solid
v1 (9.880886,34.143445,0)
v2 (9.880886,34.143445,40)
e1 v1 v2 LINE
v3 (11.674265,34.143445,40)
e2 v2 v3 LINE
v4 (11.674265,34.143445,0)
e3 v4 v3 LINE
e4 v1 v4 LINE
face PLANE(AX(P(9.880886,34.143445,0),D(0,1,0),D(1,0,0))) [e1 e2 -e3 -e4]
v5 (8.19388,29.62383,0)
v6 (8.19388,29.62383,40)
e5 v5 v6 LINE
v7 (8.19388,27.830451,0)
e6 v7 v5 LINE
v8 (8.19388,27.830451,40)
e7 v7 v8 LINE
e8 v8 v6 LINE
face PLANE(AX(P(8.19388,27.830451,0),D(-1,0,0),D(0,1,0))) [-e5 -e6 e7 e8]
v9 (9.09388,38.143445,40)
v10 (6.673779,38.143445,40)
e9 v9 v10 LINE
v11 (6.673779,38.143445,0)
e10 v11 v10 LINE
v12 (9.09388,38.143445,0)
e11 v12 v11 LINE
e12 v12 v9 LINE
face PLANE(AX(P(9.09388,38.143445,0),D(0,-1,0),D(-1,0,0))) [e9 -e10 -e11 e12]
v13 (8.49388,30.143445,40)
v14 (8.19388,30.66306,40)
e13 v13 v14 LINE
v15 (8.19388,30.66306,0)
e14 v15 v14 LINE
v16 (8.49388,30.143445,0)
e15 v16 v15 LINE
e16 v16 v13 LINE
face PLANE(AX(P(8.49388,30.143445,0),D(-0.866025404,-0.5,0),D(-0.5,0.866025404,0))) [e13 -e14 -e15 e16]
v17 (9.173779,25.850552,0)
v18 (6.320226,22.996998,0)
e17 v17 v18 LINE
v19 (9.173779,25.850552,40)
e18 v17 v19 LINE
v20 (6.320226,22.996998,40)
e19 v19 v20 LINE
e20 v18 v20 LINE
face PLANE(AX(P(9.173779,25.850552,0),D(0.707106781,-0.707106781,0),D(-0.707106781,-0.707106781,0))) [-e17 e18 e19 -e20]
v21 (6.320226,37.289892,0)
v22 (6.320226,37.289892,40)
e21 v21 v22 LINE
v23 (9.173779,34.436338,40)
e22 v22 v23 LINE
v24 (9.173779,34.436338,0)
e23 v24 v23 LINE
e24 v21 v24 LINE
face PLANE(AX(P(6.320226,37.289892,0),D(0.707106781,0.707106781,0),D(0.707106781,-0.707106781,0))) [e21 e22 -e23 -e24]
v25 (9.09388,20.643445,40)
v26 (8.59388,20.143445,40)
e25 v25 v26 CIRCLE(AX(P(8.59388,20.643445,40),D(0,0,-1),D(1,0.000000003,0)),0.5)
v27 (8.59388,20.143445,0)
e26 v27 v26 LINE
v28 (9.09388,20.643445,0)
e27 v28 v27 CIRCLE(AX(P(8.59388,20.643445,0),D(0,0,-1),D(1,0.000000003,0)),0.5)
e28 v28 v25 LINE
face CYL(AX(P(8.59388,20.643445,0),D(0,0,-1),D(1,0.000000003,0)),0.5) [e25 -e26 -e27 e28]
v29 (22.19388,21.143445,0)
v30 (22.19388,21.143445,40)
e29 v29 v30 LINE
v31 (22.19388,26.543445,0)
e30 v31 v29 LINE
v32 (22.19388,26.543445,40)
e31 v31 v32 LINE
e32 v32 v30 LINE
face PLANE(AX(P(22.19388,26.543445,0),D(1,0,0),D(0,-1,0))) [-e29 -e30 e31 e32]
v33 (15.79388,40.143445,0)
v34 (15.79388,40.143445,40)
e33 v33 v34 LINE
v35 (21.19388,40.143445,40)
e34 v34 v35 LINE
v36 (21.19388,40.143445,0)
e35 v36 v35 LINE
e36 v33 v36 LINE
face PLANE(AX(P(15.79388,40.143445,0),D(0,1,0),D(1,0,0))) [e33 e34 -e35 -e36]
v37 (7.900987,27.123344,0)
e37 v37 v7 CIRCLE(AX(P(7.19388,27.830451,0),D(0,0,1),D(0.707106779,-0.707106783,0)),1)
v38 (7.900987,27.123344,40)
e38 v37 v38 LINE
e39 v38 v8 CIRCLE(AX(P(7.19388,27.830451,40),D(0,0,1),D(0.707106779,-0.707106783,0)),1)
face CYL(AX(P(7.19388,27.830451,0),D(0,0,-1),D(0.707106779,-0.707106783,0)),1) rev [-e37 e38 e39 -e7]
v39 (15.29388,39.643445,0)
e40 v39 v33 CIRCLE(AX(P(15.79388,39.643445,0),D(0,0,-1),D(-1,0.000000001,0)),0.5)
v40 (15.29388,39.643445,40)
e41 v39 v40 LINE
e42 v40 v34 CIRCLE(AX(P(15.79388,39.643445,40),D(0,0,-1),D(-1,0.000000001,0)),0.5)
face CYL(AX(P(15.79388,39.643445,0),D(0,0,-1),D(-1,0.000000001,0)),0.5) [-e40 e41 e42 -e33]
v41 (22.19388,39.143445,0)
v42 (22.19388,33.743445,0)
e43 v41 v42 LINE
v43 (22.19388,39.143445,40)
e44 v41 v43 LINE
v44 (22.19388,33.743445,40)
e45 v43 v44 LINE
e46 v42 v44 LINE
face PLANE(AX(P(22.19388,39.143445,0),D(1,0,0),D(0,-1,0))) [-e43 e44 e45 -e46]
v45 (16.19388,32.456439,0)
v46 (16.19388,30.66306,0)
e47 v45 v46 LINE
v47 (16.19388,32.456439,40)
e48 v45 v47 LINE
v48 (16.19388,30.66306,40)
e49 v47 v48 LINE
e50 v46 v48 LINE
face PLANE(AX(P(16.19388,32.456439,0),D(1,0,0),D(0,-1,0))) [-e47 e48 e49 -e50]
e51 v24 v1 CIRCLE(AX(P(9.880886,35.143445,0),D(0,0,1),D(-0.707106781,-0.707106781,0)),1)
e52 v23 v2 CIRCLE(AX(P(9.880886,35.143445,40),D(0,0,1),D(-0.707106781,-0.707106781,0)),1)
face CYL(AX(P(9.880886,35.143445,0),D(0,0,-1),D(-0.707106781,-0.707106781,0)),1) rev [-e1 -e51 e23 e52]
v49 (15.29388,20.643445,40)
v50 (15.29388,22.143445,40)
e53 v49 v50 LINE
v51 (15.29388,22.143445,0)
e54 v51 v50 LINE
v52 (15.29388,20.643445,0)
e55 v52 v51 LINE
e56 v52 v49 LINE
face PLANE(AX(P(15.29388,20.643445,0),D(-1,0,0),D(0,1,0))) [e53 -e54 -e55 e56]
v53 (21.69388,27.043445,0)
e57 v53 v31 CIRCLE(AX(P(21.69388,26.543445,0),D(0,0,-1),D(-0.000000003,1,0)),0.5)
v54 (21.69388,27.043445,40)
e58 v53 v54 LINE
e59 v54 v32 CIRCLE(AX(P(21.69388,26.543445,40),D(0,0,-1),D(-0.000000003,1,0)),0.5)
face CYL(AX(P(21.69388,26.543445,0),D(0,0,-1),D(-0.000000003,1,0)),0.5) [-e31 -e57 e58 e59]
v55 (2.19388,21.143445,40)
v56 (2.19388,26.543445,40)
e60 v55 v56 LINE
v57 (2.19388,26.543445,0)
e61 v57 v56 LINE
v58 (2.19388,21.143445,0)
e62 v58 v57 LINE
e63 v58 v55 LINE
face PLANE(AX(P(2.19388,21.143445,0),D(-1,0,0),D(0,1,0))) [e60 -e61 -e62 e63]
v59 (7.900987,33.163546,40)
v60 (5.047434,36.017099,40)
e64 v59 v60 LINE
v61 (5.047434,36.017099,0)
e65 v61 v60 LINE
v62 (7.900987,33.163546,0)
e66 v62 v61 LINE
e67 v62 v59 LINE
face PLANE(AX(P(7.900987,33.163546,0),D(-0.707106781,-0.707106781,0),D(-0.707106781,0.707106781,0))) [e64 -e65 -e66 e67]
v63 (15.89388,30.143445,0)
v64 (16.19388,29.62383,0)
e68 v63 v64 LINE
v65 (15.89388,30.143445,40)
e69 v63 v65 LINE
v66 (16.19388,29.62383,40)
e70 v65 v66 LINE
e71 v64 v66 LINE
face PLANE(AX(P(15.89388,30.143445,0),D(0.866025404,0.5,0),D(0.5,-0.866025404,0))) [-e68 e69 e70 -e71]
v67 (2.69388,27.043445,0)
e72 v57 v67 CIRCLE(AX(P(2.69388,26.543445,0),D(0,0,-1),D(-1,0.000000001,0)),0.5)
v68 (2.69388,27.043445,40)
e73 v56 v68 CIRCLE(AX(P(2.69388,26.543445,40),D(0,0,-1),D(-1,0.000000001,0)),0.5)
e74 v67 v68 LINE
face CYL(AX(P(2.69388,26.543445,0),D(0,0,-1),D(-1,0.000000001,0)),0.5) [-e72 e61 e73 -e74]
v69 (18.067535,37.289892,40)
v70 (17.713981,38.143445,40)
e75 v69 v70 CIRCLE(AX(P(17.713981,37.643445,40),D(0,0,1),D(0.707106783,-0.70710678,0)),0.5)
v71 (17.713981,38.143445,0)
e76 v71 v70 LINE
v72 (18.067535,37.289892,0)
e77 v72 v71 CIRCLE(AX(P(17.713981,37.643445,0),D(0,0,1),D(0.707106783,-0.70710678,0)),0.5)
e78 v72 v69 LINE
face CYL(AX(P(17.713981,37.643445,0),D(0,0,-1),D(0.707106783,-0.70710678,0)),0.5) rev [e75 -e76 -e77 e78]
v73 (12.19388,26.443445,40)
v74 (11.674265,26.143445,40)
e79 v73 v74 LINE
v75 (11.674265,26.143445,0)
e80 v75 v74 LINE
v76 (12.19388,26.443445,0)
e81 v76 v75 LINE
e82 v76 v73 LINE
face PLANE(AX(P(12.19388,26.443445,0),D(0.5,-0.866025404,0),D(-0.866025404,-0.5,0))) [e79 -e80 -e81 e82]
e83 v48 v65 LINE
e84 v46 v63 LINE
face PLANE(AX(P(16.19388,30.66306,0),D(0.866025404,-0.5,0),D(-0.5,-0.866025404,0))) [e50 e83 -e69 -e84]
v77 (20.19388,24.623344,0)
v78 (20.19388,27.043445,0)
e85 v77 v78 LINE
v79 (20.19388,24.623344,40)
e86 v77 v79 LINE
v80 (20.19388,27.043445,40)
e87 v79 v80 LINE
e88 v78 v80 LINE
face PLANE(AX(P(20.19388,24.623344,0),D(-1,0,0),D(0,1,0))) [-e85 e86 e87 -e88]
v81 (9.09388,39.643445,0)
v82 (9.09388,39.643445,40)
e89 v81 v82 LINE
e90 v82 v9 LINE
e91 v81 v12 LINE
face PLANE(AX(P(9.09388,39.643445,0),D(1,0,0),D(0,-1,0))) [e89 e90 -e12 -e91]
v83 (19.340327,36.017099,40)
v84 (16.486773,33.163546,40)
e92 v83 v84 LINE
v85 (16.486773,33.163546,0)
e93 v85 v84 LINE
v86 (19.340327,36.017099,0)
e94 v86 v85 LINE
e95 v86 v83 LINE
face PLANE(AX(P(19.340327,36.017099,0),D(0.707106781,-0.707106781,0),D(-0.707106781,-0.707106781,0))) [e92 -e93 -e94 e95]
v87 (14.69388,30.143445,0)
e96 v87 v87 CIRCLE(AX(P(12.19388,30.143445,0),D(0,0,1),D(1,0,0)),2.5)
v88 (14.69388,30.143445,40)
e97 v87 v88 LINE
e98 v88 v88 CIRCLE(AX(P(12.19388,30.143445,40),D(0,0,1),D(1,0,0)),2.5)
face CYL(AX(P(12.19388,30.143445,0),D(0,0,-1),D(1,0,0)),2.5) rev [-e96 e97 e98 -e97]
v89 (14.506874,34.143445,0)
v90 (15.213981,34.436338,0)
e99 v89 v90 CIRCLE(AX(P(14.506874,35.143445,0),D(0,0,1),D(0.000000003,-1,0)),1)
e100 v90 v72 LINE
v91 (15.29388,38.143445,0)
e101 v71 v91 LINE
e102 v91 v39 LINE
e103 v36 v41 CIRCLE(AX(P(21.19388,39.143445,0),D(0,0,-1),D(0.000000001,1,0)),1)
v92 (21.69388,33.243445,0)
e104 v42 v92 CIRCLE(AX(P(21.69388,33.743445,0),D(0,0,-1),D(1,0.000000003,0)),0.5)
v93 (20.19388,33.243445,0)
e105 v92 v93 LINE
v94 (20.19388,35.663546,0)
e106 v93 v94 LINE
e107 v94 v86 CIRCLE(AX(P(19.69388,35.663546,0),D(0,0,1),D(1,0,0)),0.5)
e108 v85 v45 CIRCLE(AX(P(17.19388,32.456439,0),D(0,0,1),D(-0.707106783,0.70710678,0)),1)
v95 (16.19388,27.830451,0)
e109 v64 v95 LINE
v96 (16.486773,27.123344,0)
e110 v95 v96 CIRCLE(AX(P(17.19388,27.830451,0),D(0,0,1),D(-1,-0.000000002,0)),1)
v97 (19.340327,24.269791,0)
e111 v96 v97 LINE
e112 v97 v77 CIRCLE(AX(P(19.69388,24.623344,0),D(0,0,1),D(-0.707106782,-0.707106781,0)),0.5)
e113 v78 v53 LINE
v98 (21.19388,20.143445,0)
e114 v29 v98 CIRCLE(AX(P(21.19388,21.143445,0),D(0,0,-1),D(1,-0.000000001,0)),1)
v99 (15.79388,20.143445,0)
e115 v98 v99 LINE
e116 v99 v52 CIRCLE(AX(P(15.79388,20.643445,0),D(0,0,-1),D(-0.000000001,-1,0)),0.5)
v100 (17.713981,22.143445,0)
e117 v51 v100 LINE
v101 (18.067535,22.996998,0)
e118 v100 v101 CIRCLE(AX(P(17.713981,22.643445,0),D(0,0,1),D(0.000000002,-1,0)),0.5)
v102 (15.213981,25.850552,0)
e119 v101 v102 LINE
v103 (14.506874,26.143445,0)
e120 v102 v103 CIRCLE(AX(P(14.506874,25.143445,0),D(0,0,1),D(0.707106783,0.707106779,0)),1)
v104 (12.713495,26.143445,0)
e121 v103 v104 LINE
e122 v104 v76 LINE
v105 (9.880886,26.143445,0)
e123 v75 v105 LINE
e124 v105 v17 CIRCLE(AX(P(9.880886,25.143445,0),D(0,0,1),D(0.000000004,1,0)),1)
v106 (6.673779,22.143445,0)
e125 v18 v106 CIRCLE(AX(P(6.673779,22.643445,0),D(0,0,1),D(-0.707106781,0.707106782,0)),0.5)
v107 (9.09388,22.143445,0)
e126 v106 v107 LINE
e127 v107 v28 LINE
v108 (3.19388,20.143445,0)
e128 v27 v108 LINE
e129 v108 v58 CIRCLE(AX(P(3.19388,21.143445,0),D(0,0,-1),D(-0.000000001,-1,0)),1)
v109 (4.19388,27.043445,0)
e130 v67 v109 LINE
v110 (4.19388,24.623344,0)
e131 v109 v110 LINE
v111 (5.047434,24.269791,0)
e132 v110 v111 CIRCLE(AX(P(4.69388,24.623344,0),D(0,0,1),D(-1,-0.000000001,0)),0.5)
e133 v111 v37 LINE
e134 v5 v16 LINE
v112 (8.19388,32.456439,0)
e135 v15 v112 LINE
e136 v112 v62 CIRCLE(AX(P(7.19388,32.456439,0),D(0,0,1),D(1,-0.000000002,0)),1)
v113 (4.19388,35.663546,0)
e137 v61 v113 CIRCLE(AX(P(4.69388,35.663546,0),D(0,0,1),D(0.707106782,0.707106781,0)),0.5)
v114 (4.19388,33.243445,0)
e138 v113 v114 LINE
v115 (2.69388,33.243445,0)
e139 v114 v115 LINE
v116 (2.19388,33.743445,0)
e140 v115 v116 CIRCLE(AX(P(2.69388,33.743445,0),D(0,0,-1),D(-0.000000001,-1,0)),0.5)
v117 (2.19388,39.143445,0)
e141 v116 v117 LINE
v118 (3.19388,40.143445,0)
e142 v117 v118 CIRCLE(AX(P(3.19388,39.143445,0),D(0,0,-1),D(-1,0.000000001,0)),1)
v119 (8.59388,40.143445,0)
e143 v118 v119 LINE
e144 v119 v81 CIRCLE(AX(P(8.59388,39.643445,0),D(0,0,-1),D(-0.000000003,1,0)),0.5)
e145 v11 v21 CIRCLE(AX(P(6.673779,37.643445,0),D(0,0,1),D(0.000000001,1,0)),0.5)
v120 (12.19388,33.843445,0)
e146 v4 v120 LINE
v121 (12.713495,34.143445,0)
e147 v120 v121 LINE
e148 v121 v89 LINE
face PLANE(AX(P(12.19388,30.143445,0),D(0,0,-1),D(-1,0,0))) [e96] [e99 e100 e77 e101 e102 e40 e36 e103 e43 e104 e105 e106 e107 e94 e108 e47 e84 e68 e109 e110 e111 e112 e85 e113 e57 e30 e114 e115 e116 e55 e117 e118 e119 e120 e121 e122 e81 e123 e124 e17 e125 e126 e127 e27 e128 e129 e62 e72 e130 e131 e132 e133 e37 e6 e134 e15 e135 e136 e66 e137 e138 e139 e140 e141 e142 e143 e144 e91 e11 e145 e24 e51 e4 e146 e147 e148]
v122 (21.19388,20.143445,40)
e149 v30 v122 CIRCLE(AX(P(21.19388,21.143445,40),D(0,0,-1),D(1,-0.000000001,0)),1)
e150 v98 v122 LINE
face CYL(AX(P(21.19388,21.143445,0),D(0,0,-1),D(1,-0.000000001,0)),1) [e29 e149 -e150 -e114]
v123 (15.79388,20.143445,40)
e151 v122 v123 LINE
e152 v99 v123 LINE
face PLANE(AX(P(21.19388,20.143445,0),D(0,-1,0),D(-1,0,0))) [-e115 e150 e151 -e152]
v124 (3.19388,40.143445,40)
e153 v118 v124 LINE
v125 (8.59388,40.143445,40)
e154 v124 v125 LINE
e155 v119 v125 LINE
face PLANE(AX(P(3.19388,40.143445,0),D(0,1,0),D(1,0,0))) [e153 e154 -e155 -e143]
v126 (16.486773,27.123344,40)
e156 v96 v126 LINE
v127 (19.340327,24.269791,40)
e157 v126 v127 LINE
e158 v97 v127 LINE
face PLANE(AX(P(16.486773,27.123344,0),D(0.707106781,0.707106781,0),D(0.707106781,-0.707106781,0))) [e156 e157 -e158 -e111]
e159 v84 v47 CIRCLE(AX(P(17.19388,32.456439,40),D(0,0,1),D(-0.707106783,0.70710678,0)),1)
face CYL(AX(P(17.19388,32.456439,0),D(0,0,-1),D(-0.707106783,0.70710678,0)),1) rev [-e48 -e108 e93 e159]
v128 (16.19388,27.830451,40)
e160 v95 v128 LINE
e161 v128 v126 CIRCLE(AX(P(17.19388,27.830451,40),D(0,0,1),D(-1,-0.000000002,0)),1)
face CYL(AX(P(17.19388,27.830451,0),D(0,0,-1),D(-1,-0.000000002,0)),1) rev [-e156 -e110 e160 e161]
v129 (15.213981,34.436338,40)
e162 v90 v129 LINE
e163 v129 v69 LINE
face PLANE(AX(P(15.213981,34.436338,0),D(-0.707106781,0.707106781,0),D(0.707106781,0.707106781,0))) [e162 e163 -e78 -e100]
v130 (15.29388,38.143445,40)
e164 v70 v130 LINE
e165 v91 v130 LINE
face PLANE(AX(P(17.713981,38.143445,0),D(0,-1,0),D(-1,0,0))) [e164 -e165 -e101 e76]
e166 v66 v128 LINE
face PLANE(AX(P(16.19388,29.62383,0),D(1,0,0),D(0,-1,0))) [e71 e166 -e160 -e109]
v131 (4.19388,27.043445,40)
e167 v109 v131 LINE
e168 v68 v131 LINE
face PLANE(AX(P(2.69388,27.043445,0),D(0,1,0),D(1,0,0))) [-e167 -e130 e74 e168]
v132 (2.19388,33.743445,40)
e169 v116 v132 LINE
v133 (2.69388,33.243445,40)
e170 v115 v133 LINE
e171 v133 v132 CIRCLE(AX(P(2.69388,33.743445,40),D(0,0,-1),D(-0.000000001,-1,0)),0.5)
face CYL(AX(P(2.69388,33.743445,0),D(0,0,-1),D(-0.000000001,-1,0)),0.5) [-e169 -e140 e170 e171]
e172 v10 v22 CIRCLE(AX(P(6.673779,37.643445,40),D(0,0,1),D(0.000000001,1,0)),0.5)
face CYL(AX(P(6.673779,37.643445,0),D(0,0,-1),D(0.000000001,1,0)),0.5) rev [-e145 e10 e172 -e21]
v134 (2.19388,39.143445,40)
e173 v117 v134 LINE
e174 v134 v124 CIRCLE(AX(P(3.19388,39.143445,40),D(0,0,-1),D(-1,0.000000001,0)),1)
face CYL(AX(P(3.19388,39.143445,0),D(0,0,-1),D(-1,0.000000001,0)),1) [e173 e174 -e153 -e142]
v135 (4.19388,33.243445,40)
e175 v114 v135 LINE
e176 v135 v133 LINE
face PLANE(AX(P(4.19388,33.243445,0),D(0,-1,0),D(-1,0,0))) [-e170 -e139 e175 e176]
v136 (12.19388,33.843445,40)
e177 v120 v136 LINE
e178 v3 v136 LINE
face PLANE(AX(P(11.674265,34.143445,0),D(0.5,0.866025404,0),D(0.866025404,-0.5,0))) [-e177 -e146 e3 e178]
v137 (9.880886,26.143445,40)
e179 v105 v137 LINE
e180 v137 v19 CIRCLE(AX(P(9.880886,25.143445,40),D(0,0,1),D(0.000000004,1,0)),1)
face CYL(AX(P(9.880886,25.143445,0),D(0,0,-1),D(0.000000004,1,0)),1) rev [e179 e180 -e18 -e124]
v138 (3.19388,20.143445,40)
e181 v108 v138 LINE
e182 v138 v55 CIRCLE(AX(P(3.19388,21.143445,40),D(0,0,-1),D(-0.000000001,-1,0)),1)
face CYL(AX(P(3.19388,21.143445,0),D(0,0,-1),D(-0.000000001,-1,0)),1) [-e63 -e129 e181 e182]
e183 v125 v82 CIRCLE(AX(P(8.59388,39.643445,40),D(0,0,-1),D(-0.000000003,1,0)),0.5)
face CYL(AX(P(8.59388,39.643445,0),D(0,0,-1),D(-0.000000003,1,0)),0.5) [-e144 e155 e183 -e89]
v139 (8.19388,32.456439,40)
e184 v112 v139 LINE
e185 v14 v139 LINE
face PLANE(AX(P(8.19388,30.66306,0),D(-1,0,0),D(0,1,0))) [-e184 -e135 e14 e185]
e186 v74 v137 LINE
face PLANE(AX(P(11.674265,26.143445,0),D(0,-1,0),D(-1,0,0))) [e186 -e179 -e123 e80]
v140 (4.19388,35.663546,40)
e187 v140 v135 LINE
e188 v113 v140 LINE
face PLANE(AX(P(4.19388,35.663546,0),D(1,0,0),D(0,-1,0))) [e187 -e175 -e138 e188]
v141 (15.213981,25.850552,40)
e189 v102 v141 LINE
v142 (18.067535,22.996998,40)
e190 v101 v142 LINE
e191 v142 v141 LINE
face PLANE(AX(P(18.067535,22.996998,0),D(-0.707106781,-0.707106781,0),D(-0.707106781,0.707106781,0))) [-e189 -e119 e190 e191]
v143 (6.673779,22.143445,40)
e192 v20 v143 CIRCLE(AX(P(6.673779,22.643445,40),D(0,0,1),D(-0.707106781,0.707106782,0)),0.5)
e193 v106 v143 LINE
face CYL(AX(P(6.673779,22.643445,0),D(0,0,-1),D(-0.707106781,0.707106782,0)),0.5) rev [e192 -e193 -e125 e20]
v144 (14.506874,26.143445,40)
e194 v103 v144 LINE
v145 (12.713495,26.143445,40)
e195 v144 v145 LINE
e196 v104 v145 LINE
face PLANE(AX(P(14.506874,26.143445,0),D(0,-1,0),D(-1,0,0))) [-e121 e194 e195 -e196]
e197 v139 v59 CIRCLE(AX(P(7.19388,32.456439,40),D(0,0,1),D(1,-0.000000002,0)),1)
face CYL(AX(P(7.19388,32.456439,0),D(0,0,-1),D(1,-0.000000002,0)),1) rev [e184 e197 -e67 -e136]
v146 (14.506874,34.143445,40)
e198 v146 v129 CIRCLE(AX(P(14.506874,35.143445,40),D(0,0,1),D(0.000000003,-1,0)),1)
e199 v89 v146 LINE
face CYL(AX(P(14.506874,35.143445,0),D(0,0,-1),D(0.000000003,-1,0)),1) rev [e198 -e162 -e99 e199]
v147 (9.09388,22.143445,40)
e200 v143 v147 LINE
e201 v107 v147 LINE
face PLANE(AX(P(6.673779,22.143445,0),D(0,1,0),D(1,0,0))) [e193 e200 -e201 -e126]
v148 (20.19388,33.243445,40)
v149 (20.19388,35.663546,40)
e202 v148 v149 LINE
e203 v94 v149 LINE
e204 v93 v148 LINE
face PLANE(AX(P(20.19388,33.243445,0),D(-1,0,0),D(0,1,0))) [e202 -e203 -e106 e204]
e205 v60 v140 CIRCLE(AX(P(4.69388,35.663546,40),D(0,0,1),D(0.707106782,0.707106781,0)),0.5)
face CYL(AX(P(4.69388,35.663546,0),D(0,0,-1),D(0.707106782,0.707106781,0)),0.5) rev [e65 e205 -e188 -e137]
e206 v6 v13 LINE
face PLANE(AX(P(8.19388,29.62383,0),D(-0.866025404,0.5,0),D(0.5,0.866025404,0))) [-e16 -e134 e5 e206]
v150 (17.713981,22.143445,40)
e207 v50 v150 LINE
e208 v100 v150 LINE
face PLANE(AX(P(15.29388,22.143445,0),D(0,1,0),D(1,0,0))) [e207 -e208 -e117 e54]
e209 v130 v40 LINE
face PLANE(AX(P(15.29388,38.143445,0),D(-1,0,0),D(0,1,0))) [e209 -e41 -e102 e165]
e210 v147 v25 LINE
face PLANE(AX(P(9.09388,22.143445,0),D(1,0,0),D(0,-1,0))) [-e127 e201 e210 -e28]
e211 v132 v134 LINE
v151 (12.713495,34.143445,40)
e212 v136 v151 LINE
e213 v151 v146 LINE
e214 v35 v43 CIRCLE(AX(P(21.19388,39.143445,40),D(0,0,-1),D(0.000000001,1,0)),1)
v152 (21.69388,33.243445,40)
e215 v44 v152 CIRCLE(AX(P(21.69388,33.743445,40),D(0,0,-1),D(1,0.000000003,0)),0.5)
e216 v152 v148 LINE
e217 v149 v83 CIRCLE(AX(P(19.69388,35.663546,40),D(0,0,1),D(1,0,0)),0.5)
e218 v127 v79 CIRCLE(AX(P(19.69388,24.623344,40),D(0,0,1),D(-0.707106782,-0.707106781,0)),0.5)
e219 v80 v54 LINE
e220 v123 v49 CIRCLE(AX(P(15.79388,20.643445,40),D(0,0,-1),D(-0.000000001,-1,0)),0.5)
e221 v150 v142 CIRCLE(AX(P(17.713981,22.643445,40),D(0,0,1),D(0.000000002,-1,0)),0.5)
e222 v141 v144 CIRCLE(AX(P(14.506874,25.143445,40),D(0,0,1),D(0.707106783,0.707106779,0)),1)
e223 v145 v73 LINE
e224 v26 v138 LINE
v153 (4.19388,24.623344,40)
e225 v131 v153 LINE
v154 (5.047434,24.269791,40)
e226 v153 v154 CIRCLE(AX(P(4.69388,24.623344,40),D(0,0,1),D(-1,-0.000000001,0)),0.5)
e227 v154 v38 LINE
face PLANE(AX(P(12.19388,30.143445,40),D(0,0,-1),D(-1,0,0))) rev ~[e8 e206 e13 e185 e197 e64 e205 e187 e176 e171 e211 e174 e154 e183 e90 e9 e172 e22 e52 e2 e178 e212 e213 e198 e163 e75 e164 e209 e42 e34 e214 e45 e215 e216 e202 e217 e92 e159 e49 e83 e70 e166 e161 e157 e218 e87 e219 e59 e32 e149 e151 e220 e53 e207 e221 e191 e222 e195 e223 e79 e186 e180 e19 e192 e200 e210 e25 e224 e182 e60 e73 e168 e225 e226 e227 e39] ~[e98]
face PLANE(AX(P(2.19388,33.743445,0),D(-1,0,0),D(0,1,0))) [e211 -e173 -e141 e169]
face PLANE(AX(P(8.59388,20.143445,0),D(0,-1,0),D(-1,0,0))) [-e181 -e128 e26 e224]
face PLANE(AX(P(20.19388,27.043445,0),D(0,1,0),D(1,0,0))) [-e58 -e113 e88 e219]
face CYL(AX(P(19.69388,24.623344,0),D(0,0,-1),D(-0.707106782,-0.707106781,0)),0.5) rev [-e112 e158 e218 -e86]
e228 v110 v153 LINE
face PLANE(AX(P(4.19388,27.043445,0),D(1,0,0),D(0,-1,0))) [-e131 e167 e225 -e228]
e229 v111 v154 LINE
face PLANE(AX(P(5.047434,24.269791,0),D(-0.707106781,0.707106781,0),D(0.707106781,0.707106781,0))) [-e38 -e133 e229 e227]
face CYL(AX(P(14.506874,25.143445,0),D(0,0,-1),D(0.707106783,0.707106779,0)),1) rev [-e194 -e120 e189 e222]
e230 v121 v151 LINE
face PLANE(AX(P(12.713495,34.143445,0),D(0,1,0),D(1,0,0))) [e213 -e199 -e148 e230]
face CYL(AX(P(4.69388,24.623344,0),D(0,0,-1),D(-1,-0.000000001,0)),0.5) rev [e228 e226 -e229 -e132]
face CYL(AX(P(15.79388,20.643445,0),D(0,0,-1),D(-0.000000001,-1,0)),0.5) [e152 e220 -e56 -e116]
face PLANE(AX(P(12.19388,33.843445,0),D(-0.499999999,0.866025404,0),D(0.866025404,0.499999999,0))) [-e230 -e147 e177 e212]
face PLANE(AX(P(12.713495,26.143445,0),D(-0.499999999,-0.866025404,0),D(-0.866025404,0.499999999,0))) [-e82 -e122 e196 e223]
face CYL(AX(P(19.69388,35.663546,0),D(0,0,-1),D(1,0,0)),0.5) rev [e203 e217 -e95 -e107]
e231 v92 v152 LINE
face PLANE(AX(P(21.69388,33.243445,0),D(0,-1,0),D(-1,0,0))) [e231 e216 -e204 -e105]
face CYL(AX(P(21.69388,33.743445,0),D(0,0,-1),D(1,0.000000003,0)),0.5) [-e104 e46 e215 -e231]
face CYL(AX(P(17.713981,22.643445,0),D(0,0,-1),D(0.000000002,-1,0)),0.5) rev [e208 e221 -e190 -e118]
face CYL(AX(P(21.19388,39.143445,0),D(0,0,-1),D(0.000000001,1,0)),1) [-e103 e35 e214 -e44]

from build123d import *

# Parameters (mm, degrees)
SKETCH_1_R      = 2.5
EXTRUDE_1_DEPTH = 40


with BuildPart() as part:
    # 草图1 → 凸台-拉伸1 (new body)
    with BuildSketch(Plane.XY):
        with BuildLine():
            Line((16.486773435, 27.123343944), (19.340326826, 24.269790554))
            ThreePointArc((19.340326826, 24.269790554), (19.885221932, 24.161404178), (20.193880216, 24.623343944))
            Line((20.193880216, 24.623343944), (20.193880216, 27.043444957))
            Line((20.193880216, 27.043444957), (21.693880216, 27.043444957))
            ThreePointArc((21.693880216, 27.043444957), (22.047433607, 26.896998348), (22.193880216, 26.543444957))
            Line((22.193880216, 26.543444957), (22.193880216, 21.143444957))
            ThreePointArc((22.193880216, 21.143444957), (21.900986997, 20.436338176), (21.193880216, 20.143444957))
            Line((21.193880216, 20.143444957), (15.793880216, 20.143444957))
            ThreePointArc((15.793880216, 20.143444957), (15.440326826, 20.289891566), (15.293880216, 20.643444957))
            Line((15.293880216, 20.643444957), (15.293880216, 22.143444957))
            Line((15.293880216, 22.143444957), (17.713981229, 22.143444957))
            ThreePointArc((17.713981229, 22.143444957), (18.175920995, 22.452103241), (18.06753462, 22.996998348))
            Line((18.06753462, 22.996998348), (15.213981229, 25.850551738))
            ThreePointArc((15.213981229, 25.850551738), (14.88955788, 26.06732449), (14.506874448, 26.143444957))
            Line((14.506874448, 26.143444957), (12.713495459, 26.143444957))
            Line((12.713495459, 26.143444957), (12.193880216, 26.443444957))
            Line((12.193880216, 26.443444957), (11.674264974, 26.143444957))
            Line((11.674264974, 26.143444957), (9.880885985, 26.143444957))
            ThreePointArc((9.880885985, 26.143444957), (9.498202552, 26.06732449), (9.173779204, 25.850551738))
            Line((9.173779204, 25.850551738), (6.320225813, 22.996998348))
            ThreePointArc((6.320225813, 22.996998348), (6.211839437, 22.452103241), (6.673779204, 22.143444957))
            Line((6.673779204, 22.143444957), (9.093880216, 22.143444957))
            Line((9.093880216, 22.143444957), (9.093880216, 20.643444957))
            ThreePointArc((9.093880216, 20.643444957), (8.947433607, 20.289891566), (8.593880216, 20.143444957))
            Line((8.593880216, 20.143444957), (3.193880216, 20.143444957))
            ThreePointArc((3.193880216, 20.143444957), (2.486773435, 20.436338176), (2.193880216, 21.143444957))
            Line((2.193880216, 21.143444957), (2.193880216, 26.543444957))
            ThreePointArc((2.193880216, 26.543444957), (2.340326826, 26.896998348), (2.693880216, 27.043444957))
            Line((2.693880216, 27.043444957), (4.193880216, 27.043444957))
            Line((4.193880216, 27.043444957), (4.193880216, 24.623343944))
            ThreePointArc((4.193880216, 24.623343944), (4.5025385, 24.161404178), (5.047433607, 24.269790554))
            Line((5.047433607, 24.269790554), (7.900986997, 27.123343944))
            ThreePointArc((7.900986997, 27.123343944), (8.117759749, 27.447767293), (8.193880216, 27.830450726))
            Line((8.193880216, 27.830450726), (8.193880216, 29.623829715))
            Line((8.193880216, 29.623829715), (8.493880216, 30.143444957))
            Line((8.493880216, 30.143444957), (8.193880216, 30.663060199))
            Line((8.193880216, 30.663060199), (8.193880216, 32.456439189))
            ThreePointArc((8.193880216, 32.456439189), (8.117759749, 32.839122621), (7.900986997, 33.16354597))
            Line((7.900986997, 33.16354597), (5.047433607, 36.01709936))
            ThreePointArc((5.047433607, 36.01709936), (4.5025385, 36.125485736), (4.193880216, 35.66354597))
            Line((4.193880216, 35.66354597), (4.193880216, 33.243444957))
            Line((4.193880216, 33.243444957), (2.693880216, 33.243444957))
            ThreePointArc((2.693880216, 33.243444957), (2.340326826, 33.389891566), (2.193880216, 33.743444957))
            Line((2.193880216, 33.743444957), (2.193880216, 39.143444957))
            ThreePointArc((2.193880216, 39.143444957), (2.486773435, 39.850551738), (3.193880216, 40.143444957))
            Line((3.193880216, 40.143444957), (8.593880216, 40.143444957))
            ThreePointArc((8.593880216, 40.143444957), (8.947433607, 39.996998348), (9.093880216, 39.643444957))
            Line((9.093880216, 39.643444957), (9.093880216, 38.143444957))
            Line((9.093880216, 38.143444957), (6.673779204, 38.143444957))
            ThreePointArc((6.673779204, 38.143444957), (6.211839437, 37.834786673), (6.320225813, 37.289891566))
            Line((6.320225813, 37.289891566), (9.173779204, 34.436338176))
            ThreePointArc((9.173779204, 34.436338176), (9.498202552, 34.219565425), (9.880885985, 34.143444957))
            Line((9.880885985, 34.143444957), (11.674264974, 34.143444957))
            Line((11.674264974, 34.143444957), (12.193880216, 33.843444957))
            Line((12.193880216, 33.843444957), (12.713495459, 34.143444957))
            Line((12.713495459, 34.143444957), (14.506874448, 34.143444957))
            ThreePointArc((14.506874448, 34.143444957), (14.88955788, 34.219565425), (15.213981229, 34.436338176))
            Line((15.213981229, 34.436338176), (18.06753462, 37.289891566))
            ThreePointArc((18.06753462, 37.289891566), (18.175920995, 37.834786673), (17.713981229, 38.143444957))
            Line((17.713981229, 38.143444957), (15.293880216, 38.143444957))
            Line((15.293880216, 38.143444957), (15.293880216, 39.643444957))
            ThreePointArc((15.293880216, 39.643444957), (15.440326826, 39.996998348), (15.793880216, 40.143444957))
            Line((15.793880216, 40.143444957), (21.193880216, 40.143444957))
            ThreePointArc((21.193880216, 40.143444957), (21.900986997, 39.850551738), (22.193880216, 39.143444957))
            Line((22.193880216, 39.143444957), (22.193880216, 33.743444957))
            ThreePointArc((22.193880216, 33.743444957), (22.047433607, 33.389891566), (21.693880216, 33.243444957))
            Line((21.693880216, 33.243444957), (20.193880216, 33.243444957))
            Line((20.193880216, 33.243444957), (20.193880216, 35.66354597))
            ThreePointArc((20.193880216, 35.66354597), (19.885221932, 36.125485736), (19.340326826, 36.01709936))
            Line((19.340326826, 36.01709936), (16.486773435, 33.16354597))
            ThreePointArc((16.486773435, 33.16354597), (16.270000684, 32.839122621), (16.193880216, 32.456439189))
            Line((16.193880216, 32.456439189), (16.193880216, 30.663060199))
            Line((16.193880216, 30.663060199), (15.893880216, 30.143444957))
            Line((15.893880216, 30.143444957), (16.193880216, 29.623829715))
            Line((16.193880216, 29.623829715), (16.193880216, 27.830450726))
            ThreePointArc((16.193880216, 27.830450726), (16.270000684, 27.447767293), (16.486773435, 27.123343944))
        make_face()
        with Locations((12.193880216, 30.143444957)):
            Circle(SKETCH_1_R, mode=Mode.SUBTRACT)
    extrude(amount=EXTRUDE_1_DEPTH)


solid = part.part
